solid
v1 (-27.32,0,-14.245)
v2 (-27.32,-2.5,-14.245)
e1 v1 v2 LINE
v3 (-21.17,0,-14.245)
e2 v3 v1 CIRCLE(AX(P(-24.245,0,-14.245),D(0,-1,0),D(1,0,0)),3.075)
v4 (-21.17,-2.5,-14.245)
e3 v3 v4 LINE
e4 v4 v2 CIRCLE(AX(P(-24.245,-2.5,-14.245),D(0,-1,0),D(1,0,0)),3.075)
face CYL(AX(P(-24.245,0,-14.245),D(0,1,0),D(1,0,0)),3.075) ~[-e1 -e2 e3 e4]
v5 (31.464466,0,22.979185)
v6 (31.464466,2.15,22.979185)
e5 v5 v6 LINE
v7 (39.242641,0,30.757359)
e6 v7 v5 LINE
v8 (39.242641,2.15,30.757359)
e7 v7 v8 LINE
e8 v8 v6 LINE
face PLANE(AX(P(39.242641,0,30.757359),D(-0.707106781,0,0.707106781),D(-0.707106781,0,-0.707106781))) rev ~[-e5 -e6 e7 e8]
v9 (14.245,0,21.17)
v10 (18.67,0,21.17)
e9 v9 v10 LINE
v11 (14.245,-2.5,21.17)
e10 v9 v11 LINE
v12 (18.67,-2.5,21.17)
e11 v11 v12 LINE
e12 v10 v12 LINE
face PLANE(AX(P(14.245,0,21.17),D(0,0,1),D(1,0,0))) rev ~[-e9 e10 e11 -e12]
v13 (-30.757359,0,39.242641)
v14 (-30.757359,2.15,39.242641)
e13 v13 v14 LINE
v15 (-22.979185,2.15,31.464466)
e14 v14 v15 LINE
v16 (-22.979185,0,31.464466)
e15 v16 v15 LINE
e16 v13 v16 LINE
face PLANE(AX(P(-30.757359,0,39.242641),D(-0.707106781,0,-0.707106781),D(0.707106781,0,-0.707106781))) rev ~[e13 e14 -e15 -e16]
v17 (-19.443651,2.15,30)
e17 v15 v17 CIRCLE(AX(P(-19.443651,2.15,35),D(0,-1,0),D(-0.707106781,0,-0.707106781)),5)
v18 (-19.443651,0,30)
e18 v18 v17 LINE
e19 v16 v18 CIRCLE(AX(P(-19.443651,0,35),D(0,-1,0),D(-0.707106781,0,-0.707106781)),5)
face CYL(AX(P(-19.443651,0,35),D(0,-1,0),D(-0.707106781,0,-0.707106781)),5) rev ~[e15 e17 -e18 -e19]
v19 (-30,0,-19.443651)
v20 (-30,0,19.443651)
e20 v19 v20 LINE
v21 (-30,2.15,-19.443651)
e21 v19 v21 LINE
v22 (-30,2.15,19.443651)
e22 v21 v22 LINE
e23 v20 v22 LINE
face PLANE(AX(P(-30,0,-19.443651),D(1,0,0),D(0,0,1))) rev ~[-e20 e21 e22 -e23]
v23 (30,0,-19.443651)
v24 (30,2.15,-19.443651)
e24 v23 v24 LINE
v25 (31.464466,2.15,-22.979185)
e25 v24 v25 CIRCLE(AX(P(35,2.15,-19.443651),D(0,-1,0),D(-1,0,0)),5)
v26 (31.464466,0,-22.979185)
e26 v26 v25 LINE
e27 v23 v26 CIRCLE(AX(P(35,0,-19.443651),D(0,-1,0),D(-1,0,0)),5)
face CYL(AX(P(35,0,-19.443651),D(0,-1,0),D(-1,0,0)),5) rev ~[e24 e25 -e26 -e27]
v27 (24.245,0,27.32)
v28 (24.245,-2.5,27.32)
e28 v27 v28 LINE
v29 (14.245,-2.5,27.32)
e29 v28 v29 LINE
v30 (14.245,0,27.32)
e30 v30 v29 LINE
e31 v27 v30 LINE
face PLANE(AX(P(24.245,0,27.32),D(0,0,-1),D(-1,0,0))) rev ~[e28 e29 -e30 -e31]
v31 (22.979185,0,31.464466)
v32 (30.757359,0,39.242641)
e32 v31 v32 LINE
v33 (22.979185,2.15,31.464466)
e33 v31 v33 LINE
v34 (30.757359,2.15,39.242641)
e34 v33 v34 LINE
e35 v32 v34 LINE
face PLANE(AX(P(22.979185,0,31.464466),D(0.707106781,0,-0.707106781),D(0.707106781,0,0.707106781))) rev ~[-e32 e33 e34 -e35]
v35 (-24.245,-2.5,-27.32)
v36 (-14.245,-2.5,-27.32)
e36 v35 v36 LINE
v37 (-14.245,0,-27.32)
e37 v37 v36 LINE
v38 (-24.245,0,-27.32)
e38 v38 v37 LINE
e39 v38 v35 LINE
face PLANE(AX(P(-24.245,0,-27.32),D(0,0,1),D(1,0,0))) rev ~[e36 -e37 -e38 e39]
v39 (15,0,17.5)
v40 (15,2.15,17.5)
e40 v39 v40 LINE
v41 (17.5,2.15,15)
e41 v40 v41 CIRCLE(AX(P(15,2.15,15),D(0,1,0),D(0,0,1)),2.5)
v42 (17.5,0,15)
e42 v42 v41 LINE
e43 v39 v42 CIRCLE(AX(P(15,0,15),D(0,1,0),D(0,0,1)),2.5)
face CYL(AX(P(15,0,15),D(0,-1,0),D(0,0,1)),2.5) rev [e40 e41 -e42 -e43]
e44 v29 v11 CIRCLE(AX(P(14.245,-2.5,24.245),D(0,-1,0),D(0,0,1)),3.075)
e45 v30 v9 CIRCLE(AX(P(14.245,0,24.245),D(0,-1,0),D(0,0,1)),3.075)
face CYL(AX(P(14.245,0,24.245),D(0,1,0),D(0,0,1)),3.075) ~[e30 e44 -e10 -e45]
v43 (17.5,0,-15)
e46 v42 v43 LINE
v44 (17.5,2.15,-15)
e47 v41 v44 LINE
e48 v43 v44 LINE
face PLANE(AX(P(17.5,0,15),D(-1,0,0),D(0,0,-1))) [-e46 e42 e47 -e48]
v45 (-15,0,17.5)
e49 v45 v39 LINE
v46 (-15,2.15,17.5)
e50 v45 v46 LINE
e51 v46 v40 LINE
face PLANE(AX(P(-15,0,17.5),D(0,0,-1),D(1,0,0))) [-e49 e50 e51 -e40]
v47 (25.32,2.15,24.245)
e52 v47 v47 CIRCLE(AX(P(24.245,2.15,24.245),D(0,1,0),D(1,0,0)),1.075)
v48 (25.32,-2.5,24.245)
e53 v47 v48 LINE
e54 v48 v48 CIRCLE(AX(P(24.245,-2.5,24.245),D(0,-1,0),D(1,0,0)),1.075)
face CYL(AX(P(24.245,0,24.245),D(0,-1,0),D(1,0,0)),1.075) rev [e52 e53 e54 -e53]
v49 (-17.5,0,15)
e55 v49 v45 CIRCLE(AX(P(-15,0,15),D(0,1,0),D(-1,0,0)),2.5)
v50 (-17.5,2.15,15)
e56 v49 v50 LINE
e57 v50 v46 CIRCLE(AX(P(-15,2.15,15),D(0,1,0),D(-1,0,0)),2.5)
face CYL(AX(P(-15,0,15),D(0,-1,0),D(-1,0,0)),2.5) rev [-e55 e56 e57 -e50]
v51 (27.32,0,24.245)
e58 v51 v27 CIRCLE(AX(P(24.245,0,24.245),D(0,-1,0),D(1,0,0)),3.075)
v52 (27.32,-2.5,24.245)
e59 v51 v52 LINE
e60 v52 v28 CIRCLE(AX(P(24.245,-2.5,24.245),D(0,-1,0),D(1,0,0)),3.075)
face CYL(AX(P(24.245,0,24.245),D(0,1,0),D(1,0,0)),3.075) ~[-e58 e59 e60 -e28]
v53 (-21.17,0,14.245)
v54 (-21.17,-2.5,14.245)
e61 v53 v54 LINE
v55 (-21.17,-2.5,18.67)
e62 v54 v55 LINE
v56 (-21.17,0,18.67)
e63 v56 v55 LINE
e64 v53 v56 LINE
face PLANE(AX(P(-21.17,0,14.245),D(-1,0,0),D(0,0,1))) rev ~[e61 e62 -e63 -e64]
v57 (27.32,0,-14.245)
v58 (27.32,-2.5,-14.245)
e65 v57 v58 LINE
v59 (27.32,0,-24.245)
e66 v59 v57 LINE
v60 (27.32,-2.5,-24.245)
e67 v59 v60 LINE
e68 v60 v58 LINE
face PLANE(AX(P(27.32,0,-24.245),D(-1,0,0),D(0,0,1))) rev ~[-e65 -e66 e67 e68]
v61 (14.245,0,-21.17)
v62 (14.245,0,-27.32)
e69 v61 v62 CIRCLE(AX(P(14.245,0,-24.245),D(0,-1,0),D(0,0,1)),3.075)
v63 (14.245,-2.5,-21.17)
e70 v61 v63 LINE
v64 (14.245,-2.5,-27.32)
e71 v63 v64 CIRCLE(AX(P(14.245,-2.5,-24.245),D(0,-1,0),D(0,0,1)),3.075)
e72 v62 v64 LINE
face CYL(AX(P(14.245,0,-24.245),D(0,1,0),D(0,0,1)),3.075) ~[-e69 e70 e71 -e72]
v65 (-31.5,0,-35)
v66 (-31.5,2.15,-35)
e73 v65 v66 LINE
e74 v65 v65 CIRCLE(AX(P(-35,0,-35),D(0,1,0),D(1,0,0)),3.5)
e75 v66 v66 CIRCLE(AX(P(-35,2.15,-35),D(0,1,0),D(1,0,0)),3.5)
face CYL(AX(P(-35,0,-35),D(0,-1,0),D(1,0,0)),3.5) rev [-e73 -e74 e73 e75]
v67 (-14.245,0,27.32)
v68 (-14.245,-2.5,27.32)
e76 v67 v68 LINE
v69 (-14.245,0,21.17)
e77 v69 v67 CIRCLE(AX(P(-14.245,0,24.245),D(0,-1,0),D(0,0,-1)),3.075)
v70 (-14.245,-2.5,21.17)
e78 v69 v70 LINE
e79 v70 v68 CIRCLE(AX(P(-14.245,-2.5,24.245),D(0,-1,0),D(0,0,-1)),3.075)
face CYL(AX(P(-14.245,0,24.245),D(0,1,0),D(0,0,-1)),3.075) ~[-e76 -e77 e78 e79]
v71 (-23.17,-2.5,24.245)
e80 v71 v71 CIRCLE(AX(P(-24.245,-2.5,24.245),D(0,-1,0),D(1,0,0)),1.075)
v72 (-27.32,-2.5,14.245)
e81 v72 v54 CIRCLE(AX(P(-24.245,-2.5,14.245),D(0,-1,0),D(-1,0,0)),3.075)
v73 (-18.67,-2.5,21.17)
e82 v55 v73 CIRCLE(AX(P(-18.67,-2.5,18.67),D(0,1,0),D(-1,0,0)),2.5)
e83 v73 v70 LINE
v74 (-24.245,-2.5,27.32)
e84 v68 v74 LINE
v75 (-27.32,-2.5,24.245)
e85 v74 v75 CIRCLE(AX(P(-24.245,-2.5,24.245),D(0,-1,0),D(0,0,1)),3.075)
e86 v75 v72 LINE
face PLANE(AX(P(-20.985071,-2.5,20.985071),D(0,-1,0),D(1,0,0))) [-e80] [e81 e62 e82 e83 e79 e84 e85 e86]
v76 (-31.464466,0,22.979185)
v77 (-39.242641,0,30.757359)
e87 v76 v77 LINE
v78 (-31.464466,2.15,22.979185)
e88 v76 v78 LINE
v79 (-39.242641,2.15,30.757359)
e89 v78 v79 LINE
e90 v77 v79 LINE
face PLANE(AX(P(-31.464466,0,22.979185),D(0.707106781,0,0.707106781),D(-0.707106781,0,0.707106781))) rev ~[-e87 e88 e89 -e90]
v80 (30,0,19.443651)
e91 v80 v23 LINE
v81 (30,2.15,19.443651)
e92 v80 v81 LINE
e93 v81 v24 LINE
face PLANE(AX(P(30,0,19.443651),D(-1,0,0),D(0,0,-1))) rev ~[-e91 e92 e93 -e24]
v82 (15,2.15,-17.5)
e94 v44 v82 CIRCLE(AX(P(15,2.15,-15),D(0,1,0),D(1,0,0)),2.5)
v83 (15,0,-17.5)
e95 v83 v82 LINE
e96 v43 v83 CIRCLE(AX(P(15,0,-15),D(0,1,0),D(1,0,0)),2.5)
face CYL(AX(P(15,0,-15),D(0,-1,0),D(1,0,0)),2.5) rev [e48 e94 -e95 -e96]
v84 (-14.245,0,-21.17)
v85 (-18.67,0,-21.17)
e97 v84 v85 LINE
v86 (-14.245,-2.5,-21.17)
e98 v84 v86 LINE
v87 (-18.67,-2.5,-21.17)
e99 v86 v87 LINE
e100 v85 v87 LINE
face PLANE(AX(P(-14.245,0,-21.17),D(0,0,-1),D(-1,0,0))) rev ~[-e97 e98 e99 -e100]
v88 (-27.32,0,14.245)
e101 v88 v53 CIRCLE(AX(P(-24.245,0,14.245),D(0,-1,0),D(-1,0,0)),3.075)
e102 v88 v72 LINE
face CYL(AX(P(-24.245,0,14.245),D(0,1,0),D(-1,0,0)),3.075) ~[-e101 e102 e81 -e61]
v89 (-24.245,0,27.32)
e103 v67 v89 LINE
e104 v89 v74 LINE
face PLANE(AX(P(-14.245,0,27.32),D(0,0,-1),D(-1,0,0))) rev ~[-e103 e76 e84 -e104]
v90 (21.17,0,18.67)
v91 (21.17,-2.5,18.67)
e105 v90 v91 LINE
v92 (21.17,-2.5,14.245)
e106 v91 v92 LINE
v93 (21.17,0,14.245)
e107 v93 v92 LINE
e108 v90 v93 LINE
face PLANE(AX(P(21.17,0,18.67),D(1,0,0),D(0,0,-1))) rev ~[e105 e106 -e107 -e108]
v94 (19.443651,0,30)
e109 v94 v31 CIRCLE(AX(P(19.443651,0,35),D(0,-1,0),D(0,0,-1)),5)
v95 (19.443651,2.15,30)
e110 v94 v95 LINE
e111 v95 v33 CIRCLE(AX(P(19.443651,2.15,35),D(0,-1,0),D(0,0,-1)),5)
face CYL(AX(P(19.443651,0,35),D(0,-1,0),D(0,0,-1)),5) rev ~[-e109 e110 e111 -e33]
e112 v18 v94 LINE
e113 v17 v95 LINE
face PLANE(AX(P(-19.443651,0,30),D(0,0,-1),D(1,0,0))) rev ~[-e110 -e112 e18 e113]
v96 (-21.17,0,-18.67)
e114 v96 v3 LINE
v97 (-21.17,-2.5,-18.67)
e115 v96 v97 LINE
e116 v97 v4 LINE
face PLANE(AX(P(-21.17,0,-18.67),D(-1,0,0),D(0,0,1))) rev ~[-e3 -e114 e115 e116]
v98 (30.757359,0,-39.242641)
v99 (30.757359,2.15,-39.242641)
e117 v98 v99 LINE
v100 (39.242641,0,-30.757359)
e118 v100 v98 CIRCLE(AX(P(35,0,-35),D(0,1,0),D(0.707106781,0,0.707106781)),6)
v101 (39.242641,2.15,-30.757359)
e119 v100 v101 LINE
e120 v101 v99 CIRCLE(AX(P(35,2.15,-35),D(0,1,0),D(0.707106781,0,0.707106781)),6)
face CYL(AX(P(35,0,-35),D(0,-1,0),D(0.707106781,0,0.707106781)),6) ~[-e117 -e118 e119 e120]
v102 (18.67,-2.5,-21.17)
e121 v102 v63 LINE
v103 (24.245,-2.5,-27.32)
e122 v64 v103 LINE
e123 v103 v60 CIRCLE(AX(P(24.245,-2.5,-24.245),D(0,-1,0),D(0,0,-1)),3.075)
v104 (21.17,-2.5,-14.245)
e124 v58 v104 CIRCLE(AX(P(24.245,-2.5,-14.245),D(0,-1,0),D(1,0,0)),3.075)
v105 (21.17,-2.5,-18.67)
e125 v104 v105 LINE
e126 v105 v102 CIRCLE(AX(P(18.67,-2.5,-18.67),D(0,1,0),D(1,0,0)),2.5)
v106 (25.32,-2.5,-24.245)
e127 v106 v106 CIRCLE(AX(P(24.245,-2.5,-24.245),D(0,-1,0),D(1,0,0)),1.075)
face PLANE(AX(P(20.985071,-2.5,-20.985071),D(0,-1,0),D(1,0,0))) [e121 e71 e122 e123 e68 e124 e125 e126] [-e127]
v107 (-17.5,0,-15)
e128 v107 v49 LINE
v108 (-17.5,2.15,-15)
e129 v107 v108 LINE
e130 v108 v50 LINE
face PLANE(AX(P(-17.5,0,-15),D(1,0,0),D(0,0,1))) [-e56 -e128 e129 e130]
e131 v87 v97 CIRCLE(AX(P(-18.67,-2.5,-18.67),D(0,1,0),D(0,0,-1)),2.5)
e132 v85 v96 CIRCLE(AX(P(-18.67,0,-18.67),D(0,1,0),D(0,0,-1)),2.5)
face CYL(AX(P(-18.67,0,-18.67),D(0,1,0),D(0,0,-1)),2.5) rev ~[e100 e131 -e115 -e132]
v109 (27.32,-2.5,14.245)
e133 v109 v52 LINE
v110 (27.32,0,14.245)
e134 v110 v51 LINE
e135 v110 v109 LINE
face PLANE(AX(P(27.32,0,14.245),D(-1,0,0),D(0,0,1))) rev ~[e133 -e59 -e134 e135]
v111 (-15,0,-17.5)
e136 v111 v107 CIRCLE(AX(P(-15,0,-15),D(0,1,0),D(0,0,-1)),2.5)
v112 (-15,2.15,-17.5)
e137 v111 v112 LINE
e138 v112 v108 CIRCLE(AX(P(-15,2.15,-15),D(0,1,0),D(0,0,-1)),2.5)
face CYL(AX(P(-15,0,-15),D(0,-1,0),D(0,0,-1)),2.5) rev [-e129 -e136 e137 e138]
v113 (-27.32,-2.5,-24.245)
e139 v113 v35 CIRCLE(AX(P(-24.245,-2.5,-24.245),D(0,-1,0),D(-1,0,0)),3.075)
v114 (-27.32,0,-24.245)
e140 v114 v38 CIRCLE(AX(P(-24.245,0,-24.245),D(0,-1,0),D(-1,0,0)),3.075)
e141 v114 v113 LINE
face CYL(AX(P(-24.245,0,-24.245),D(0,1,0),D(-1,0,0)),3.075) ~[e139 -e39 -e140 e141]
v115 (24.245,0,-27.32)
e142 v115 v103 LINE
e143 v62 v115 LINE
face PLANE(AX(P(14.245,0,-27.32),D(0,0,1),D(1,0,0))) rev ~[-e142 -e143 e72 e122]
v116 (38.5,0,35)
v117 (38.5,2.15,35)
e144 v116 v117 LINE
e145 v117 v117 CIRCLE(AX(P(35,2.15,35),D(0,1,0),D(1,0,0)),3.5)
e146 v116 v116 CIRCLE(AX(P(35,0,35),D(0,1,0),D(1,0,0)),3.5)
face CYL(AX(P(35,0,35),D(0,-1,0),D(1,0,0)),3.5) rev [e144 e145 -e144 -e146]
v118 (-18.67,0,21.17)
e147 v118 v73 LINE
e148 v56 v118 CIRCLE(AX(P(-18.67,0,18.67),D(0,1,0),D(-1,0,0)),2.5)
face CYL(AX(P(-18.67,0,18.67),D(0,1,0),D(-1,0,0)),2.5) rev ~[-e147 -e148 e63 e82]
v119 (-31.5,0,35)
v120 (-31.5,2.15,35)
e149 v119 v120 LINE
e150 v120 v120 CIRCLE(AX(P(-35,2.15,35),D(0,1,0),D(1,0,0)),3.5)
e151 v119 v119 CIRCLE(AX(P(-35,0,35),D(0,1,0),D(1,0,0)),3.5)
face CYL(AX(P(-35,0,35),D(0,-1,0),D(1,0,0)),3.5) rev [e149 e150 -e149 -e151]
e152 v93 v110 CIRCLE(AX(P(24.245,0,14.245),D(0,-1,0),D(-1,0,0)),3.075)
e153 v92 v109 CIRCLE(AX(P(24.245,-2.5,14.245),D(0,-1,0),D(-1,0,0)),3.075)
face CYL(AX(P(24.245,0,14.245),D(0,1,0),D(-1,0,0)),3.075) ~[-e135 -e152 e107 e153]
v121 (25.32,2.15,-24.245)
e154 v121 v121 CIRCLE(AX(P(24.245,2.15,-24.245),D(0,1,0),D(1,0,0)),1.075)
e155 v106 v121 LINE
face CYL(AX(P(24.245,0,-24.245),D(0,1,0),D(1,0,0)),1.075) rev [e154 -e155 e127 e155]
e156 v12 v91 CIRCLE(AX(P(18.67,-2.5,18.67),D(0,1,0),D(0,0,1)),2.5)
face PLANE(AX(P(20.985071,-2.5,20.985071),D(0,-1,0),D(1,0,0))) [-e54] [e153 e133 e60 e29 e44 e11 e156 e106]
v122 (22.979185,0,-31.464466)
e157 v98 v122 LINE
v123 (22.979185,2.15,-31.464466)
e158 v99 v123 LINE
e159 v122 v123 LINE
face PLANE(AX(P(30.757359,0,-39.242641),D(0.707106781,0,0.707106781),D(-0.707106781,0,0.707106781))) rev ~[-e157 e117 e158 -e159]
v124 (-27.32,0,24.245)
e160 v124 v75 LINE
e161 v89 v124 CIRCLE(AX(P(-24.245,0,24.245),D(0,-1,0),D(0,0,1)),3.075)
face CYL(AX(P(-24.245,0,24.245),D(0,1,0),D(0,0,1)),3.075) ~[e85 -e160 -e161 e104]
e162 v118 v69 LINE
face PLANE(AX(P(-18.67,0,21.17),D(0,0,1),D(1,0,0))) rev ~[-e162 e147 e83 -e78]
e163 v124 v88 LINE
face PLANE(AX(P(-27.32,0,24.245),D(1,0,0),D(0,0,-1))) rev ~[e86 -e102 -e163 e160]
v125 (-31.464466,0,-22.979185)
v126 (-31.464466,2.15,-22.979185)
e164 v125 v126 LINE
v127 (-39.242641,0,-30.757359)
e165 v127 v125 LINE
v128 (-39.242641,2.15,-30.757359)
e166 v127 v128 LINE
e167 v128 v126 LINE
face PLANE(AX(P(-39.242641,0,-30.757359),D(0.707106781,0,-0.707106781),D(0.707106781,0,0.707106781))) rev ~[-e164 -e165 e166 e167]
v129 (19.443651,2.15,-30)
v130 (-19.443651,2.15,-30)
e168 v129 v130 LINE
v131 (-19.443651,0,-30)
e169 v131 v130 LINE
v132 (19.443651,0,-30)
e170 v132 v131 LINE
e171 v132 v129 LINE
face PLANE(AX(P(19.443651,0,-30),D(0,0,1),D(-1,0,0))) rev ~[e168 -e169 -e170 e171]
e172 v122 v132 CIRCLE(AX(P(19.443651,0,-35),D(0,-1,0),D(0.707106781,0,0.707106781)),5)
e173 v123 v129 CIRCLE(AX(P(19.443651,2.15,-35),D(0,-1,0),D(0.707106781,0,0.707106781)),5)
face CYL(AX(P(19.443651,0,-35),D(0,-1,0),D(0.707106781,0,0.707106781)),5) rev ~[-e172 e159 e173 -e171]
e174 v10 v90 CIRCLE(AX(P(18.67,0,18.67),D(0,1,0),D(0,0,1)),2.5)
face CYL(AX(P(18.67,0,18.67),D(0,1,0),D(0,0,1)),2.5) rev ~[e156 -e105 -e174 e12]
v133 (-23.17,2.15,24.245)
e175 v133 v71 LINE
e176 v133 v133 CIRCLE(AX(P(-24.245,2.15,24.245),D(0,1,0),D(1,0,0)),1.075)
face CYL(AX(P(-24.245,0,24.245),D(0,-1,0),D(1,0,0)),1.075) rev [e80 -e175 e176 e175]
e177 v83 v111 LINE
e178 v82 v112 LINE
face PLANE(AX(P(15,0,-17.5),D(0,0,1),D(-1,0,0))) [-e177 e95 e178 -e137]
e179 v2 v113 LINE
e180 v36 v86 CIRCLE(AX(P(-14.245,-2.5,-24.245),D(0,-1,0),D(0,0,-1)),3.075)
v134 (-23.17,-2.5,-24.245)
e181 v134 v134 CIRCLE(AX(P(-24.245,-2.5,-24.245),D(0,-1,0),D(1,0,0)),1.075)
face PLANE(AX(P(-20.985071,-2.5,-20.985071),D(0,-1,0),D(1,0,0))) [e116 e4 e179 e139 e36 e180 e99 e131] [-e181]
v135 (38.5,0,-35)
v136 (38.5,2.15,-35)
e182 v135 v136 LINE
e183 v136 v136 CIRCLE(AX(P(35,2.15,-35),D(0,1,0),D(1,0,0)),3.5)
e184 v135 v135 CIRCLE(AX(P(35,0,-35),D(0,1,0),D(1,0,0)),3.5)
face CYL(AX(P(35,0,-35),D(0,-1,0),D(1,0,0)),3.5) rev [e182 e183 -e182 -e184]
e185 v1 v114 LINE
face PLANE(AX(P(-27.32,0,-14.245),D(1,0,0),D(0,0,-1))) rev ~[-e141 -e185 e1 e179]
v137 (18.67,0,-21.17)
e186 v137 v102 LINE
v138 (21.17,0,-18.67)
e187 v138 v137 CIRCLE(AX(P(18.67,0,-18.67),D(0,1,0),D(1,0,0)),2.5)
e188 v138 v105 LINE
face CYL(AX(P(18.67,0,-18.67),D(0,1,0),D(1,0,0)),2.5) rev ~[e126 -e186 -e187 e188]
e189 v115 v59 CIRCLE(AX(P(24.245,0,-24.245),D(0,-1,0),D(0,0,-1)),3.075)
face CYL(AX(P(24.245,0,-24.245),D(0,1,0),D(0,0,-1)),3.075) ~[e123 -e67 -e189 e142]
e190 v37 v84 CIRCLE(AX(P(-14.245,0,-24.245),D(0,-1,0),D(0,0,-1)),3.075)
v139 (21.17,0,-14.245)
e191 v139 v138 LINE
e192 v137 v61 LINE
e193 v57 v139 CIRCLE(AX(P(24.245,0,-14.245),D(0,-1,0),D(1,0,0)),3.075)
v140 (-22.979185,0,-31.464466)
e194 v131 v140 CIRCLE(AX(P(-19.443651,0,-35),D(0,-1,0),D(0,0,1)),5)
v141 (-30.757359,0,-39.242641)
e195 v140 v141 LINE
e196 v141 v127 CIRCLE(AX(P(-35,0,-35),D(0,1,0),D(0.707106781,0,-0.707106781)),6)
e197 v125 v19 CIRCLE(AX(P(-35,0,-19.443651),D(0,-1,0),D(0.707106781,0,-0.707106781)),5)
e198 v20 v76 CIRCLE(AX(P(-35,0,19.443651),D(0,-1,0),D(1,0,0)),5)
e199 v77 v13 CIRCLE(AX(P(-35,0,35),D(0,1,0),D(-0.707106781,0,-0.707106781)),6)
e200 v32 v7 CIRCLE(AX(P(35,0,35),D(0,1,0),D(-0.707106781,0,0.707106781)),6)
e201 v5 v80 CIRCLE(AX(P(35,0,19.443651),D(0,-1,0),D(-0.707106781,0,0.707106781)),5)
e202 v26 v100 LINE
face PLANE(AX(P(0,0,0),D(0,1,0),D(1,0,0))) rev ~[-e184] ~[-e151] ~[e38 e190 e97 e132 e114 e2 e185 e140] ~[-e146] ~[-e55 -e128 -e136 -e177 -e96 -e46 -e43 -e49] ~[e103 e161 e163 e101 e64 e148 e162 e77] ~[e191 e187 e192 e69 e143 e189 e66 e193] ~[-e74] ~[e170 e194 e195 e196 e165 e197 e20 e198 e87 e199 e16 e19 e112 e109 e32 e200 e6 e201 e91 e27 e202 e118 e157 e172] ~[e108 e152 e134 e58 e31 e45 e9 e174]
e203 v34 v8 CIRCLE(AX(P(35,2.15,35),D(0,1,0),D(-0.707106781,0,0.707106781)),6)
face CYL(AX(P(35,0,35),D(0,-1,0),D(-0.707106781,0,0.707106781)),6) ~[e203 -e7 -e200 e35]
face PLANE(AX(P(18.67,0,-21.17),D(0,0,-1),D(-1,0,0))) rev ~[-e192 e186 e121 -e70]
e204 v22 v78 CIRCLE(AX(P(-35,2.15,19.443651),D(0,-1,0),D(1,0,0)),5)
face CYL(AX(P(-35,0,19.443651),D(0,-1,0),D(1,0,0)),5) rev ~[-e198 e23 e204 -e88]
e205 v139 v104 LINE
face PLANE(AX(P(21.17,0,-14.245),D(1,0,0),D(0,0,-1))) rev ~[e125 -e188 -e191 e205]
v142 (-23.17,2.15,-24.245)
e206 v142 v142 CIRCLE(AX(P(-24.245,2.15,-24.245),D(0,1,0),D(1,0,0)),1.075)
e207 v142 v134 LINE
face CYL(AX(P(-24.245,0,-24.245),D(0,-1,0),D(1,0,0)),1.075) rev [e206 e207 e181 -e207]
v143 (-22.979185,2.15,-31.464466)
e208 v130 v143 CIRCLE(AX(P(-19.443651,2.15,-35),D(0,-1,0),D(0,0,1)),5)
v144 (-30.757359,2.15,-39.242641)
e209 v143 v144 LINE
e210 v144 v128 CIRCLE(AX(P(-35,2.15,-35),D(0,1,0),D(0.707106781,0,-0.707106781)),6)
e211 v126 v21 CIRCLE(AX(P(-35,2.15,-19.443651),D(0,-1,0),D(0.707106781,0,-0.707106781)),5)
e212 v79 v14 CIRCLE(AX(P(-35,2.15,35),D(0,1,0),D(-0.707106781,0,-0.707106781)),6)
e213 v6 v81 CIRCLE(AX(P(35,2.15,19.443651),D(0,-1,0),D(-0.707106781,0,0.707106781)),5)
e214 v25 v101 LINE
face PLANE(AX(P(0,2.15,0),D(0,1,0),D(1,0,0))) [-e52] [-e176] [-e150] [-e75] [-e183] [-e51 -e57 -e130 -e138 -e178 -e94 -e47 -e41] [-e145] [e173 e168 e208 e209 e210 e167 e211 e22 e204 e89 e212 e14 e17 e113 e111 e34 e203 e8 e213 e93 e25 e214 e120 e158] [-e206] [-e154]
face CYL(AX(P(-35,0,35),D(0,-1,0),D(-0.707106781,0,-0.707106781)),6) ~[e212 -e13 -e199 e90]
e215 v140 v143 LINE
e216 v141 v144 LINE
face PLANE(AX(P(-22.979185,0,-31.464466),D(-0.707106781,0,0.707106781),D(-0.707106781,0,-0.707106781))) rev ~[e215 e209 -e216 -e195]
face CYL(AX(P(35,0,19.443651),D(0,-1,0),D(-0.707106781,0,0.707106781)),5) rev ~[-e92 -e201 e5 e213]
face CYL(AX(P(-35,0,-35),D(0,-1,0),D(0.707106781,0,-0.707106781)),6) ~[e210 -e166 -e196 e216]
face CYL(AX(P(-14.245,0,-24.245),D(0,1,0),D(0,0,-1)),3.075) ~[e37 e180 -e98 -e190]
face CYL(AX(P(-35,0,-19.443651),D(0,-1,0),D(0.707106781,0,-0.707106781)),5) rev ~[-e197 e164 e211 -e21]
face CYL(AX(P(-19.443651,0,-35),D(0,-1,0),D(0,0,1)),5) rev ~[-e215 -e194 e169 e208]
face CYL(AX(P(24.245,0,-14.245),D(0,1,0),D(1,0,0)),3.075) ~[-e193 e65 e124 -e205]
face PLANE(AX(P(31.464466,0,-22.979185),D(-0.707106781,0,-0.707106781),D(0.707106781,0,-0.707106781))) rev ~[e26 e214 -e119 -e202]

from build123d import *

# Parameters (mm, degrees)
SKETCH1_R           = 1.075
SKETCH1_R_2         = 3.5
BOSS_EXTRUDE1_DEPTH = 2.15
SKETCH2_R           = 1.075
BOSS_EXTRUDE2_DEPTH = 2.5


with BuildPart() as part:
    # Sketch1 → Boss-Extrude1 (new body)
    with BuildSketch(Plane(origin=(0, 0, 0), x_dir=(1, 0, 0), z_dir=(0, 1, 0))):
        with BuildLine():
            Line((-30, 19.443650814), (-30, -19.443650814))
            ThreePointArc((-30, -19.443650814), (-30.380602337, -21.357067976), (-31.464466094, -22.97918472))
            Line((-31.464466094, -22.97918472), (-39.242640687, -30.757359313))
            ThreePointArc((-39.242640687, -30.757359313), (-39.242640687, -39.242640687), (-30.757359313, -39.242640687))
            Line((-30.757359313, -39.242640687), (-22.97918472, -31.464466094))
            ThreePointArc((-22.97918472, -31.464466094), (-21.357067976, -30.380602337), (-19.443650814, -30))
            Line((-19.443650814, -30), (19.443650814, -30))
            ThreePointArc((19.443650814, -30), (21.357067976, -30.380602337), (22.97918472, -31.464466094))
            Line((22.97918472, -31.464466094), (30.757359313, -39.242640687))
            ThreePointArc((30.757359313, -39.242640687), (39.242640687, -39.242640687), (39.242640687, -30.757359313))
            Line((39.242640687, -30.757359313), (31.464466094, -22.97918472))
            ThreePointArc((31.464466094, -22.97918472), (30.380602337, -21.357067976), (30, -19.443650814))
            Line((30, -19.443650814), (30, 19.443650814))
            ThreePointArc((30, 19.443650814), (30.380602337, 21.357067976), (31.464466094, 22.97918472))
            Line((31.464466094, 22.97918472), (39.242640687, 30.757359313))
            ThreePointArc((39.242640687, 30.757359313), (39.242640687, 39.242640687), (30.757359313, 39.242640687))
            Line((30.757359313, 39.242640687), (22.97918472, 31.464466094))
            ThreePointArc((22.97918472, 31.464466094), (21.357067976, 30.380602337), (19.443650814, 30))
            Line((19.443650814, 30), (-19.443650814, 30))
            ThreePointArc((-19.443650814, 30), (-21.357067976, 30.380602337), (-22.97918472, 31.464466094))
            Line((-22.97918472, 31.464466094), (-30.757359313, 39.242640687))
            ThreePointArc((-30.757359313, 39.242640687), (-39.242640687, 39.242640687), (-39.242640687, 30.757359313))
            Line((-39.242640687, 30.757359313), (-31.464466094, 22.97918472))
            ThreePointArc((-31.464466094, 22.97918472), (-30.380602337, 21.357067976), (-30, 19.443650814))
        make_face()
        with Locations((-24.245, 24.245)):
            Circle(SKETCH1_R, mode=Mode.SUBTRACT)
        with Locations((24.245, 24.245)):
            Circle(SKETCH1_R, mode=Mode.SUBTRACT)
        with Locations((24.245, -24.245)):
            Circle(SKETCH1_R, mode=Mode.SUBTRACT)
        with Locations((-24.245, -24.245)):
            Circle(SKETCH1_R, mode=Mode.SUBTRACT)
        with Locations((35, -35)):
            Circle(SKETCH1_R_2, mode=Mode.SUBTRACT)
        with Locations((-35, -35)):
            Circle(SKETCH1_R_2, mode=Mode.SUBTRACT)
        with Locations((-35, 35)):
            Circle(SKETCH1_R_2, mode=Mode.SUBTRACT)
        with Locations((35, 35)):
            Circle(SKETCH1_R_2, mode=Mode.SUBTRACT)
        with BuildLine():
            Line((-15, -17.5), (15, -17.5))
            ThreePointArc((15, -17.5), (16.767766953, -16.767766953), (17.5, -15))
            Line((17.5, -15), (17.5, 15))
            ThreePointArc((17.5, 15), (16.767766953, 16.767766953), (15, 17.5))
            Line((15, 17.5), (-15, 17.5))
            ThreePointArc((-15, 17.5), (-16.767766953, 16.767766953), (-17.5, 15))
            Line((-17.5, 15), (-17.5, -15))
            ThreePointArc((-17.5, -15), (-16.767766953, -16.767766953), (-15, -17.5))
        make_face(mode=Mode.SUBTRACT)
    extrude(amount=BOSS_EXTRUDE1_DEPTH)

    # Sketch2 → Boss-Extrude2 (add)
    with BuildSketch(Plane.XZ):
        with BuildLine():
            Line((27.32, -24.245), (27.32, -14.245))
            ThreePointArc((27.32, -14.245), (24.245, -11.17), (21.17, -14.245))
            Line((21.17, -14.245), (21.17, -18.67))
            ThreePointArc((21.17, -18.67), (20.437766953, -20.437766953), (18.67, -21.17))
            Line((18.67, -21.17), (14.245, -21.17))
            ThreePointArc((14.245, -21.17), (11.17, -24.245), (14.245, -27.32))
            Line((14.245, -27.32), (24.245, -27.32))
            ThreePointArc((24.245, -27.32), (26.419353352, -26.419353352), (27.32, -24.245))
        make_face()
        with Locations((24.245, -24.245)):
            Circle(SKETCH2_R, mode=Mode.SUBTRACT)
        with BuildLine():
            Line((-24.245, -27.32), (-14.245, -27.32))
            ThreePointArc((-14.245, -27.32), (-11.17, -24.245), (-14.245, -21.17))
            Line((-14.245, -21.17), (-18.67, -21.17))
            ThreePointArc((-18.67, -21.17), (-20.437766953, -20.437766953), (-21.17, -18.67))
            Line((-21.17, -18.67), (-21.17, -14.245))
            ThreePointArc((-21.17, -14.245), (-24.245, -11.17), (-27.32, -14.245))
            Line((-27.32, -14.245), (-27.32, -24.245))
            ThreePointArc((-27.32, -24.245), (-26.419353352, -26.419353352), (-24.245, -27.32))
        make_face()
        with Locations((-24.245, -24.245)):
            Circle(SKETCH2_R, mode=Mode.SUBTRACT)
        with BuildLine():
            Line((-27.32, 24.245), (-27.32, 14.245))
            ThreePointArc((-27.32, 14.245), (-24.245, 11.17), (-21.17, 14.245))
            Line((-21.17, 14.245), (-21.17, 18.67))
            ThreePointArc((-21.17, 18.67), (-20.437766953, 20.437766953), (-18.67, 21.17))
            Line((-18.67, 21.17), (-14.245, 21.17))
            ThreePointArc((-14.245, 21.17), (-11.17, 24.245), (-14.245, 27.32))
            Line((-14.245, 27.32), (-24.245, 27.32))
            ThreePointArc((-24.245, 27.32), (-26.419353352, 26.419353352), (-27.32, 24.245))
        make_face()
        with Locations((-24.245, 24.245)):
            Circle(SKETCH2_R, mode=Mode.SUBTRACT)
        with BuildLine():
            Line((24.245, 27.32), (14.245, 27.32))
            ThreePointArc((14.245, 27.32), (11.17, 24.245), (14.245, 21.17))
            Line((14.245, 21.17), (18.67, 21.17))
            ThreePointArc((18.67, 21.17), (20.437766953, 20.437766953), (21.17, 18.67))
            Line((21.17, 18.67), (21.17, 14.245))
            ThreePointArc((21.17, 14.245), (24.245, 11.17), (27.32, 14.245))
            Line((27.32, 14.245), (27.32, 24.245))
            ThreePointArc((27.32, 24.245), (26.419353352, 26.419353352), (24.245, 27.32))
        make_face()
        with Locations((24.245, 24.245)):
            Circle(SKETCH2_R, mode=Mode.SUBTRACT)
    extrude(amount=BOSS_EXTRUDE2_DEPTH)


solid = part.part
